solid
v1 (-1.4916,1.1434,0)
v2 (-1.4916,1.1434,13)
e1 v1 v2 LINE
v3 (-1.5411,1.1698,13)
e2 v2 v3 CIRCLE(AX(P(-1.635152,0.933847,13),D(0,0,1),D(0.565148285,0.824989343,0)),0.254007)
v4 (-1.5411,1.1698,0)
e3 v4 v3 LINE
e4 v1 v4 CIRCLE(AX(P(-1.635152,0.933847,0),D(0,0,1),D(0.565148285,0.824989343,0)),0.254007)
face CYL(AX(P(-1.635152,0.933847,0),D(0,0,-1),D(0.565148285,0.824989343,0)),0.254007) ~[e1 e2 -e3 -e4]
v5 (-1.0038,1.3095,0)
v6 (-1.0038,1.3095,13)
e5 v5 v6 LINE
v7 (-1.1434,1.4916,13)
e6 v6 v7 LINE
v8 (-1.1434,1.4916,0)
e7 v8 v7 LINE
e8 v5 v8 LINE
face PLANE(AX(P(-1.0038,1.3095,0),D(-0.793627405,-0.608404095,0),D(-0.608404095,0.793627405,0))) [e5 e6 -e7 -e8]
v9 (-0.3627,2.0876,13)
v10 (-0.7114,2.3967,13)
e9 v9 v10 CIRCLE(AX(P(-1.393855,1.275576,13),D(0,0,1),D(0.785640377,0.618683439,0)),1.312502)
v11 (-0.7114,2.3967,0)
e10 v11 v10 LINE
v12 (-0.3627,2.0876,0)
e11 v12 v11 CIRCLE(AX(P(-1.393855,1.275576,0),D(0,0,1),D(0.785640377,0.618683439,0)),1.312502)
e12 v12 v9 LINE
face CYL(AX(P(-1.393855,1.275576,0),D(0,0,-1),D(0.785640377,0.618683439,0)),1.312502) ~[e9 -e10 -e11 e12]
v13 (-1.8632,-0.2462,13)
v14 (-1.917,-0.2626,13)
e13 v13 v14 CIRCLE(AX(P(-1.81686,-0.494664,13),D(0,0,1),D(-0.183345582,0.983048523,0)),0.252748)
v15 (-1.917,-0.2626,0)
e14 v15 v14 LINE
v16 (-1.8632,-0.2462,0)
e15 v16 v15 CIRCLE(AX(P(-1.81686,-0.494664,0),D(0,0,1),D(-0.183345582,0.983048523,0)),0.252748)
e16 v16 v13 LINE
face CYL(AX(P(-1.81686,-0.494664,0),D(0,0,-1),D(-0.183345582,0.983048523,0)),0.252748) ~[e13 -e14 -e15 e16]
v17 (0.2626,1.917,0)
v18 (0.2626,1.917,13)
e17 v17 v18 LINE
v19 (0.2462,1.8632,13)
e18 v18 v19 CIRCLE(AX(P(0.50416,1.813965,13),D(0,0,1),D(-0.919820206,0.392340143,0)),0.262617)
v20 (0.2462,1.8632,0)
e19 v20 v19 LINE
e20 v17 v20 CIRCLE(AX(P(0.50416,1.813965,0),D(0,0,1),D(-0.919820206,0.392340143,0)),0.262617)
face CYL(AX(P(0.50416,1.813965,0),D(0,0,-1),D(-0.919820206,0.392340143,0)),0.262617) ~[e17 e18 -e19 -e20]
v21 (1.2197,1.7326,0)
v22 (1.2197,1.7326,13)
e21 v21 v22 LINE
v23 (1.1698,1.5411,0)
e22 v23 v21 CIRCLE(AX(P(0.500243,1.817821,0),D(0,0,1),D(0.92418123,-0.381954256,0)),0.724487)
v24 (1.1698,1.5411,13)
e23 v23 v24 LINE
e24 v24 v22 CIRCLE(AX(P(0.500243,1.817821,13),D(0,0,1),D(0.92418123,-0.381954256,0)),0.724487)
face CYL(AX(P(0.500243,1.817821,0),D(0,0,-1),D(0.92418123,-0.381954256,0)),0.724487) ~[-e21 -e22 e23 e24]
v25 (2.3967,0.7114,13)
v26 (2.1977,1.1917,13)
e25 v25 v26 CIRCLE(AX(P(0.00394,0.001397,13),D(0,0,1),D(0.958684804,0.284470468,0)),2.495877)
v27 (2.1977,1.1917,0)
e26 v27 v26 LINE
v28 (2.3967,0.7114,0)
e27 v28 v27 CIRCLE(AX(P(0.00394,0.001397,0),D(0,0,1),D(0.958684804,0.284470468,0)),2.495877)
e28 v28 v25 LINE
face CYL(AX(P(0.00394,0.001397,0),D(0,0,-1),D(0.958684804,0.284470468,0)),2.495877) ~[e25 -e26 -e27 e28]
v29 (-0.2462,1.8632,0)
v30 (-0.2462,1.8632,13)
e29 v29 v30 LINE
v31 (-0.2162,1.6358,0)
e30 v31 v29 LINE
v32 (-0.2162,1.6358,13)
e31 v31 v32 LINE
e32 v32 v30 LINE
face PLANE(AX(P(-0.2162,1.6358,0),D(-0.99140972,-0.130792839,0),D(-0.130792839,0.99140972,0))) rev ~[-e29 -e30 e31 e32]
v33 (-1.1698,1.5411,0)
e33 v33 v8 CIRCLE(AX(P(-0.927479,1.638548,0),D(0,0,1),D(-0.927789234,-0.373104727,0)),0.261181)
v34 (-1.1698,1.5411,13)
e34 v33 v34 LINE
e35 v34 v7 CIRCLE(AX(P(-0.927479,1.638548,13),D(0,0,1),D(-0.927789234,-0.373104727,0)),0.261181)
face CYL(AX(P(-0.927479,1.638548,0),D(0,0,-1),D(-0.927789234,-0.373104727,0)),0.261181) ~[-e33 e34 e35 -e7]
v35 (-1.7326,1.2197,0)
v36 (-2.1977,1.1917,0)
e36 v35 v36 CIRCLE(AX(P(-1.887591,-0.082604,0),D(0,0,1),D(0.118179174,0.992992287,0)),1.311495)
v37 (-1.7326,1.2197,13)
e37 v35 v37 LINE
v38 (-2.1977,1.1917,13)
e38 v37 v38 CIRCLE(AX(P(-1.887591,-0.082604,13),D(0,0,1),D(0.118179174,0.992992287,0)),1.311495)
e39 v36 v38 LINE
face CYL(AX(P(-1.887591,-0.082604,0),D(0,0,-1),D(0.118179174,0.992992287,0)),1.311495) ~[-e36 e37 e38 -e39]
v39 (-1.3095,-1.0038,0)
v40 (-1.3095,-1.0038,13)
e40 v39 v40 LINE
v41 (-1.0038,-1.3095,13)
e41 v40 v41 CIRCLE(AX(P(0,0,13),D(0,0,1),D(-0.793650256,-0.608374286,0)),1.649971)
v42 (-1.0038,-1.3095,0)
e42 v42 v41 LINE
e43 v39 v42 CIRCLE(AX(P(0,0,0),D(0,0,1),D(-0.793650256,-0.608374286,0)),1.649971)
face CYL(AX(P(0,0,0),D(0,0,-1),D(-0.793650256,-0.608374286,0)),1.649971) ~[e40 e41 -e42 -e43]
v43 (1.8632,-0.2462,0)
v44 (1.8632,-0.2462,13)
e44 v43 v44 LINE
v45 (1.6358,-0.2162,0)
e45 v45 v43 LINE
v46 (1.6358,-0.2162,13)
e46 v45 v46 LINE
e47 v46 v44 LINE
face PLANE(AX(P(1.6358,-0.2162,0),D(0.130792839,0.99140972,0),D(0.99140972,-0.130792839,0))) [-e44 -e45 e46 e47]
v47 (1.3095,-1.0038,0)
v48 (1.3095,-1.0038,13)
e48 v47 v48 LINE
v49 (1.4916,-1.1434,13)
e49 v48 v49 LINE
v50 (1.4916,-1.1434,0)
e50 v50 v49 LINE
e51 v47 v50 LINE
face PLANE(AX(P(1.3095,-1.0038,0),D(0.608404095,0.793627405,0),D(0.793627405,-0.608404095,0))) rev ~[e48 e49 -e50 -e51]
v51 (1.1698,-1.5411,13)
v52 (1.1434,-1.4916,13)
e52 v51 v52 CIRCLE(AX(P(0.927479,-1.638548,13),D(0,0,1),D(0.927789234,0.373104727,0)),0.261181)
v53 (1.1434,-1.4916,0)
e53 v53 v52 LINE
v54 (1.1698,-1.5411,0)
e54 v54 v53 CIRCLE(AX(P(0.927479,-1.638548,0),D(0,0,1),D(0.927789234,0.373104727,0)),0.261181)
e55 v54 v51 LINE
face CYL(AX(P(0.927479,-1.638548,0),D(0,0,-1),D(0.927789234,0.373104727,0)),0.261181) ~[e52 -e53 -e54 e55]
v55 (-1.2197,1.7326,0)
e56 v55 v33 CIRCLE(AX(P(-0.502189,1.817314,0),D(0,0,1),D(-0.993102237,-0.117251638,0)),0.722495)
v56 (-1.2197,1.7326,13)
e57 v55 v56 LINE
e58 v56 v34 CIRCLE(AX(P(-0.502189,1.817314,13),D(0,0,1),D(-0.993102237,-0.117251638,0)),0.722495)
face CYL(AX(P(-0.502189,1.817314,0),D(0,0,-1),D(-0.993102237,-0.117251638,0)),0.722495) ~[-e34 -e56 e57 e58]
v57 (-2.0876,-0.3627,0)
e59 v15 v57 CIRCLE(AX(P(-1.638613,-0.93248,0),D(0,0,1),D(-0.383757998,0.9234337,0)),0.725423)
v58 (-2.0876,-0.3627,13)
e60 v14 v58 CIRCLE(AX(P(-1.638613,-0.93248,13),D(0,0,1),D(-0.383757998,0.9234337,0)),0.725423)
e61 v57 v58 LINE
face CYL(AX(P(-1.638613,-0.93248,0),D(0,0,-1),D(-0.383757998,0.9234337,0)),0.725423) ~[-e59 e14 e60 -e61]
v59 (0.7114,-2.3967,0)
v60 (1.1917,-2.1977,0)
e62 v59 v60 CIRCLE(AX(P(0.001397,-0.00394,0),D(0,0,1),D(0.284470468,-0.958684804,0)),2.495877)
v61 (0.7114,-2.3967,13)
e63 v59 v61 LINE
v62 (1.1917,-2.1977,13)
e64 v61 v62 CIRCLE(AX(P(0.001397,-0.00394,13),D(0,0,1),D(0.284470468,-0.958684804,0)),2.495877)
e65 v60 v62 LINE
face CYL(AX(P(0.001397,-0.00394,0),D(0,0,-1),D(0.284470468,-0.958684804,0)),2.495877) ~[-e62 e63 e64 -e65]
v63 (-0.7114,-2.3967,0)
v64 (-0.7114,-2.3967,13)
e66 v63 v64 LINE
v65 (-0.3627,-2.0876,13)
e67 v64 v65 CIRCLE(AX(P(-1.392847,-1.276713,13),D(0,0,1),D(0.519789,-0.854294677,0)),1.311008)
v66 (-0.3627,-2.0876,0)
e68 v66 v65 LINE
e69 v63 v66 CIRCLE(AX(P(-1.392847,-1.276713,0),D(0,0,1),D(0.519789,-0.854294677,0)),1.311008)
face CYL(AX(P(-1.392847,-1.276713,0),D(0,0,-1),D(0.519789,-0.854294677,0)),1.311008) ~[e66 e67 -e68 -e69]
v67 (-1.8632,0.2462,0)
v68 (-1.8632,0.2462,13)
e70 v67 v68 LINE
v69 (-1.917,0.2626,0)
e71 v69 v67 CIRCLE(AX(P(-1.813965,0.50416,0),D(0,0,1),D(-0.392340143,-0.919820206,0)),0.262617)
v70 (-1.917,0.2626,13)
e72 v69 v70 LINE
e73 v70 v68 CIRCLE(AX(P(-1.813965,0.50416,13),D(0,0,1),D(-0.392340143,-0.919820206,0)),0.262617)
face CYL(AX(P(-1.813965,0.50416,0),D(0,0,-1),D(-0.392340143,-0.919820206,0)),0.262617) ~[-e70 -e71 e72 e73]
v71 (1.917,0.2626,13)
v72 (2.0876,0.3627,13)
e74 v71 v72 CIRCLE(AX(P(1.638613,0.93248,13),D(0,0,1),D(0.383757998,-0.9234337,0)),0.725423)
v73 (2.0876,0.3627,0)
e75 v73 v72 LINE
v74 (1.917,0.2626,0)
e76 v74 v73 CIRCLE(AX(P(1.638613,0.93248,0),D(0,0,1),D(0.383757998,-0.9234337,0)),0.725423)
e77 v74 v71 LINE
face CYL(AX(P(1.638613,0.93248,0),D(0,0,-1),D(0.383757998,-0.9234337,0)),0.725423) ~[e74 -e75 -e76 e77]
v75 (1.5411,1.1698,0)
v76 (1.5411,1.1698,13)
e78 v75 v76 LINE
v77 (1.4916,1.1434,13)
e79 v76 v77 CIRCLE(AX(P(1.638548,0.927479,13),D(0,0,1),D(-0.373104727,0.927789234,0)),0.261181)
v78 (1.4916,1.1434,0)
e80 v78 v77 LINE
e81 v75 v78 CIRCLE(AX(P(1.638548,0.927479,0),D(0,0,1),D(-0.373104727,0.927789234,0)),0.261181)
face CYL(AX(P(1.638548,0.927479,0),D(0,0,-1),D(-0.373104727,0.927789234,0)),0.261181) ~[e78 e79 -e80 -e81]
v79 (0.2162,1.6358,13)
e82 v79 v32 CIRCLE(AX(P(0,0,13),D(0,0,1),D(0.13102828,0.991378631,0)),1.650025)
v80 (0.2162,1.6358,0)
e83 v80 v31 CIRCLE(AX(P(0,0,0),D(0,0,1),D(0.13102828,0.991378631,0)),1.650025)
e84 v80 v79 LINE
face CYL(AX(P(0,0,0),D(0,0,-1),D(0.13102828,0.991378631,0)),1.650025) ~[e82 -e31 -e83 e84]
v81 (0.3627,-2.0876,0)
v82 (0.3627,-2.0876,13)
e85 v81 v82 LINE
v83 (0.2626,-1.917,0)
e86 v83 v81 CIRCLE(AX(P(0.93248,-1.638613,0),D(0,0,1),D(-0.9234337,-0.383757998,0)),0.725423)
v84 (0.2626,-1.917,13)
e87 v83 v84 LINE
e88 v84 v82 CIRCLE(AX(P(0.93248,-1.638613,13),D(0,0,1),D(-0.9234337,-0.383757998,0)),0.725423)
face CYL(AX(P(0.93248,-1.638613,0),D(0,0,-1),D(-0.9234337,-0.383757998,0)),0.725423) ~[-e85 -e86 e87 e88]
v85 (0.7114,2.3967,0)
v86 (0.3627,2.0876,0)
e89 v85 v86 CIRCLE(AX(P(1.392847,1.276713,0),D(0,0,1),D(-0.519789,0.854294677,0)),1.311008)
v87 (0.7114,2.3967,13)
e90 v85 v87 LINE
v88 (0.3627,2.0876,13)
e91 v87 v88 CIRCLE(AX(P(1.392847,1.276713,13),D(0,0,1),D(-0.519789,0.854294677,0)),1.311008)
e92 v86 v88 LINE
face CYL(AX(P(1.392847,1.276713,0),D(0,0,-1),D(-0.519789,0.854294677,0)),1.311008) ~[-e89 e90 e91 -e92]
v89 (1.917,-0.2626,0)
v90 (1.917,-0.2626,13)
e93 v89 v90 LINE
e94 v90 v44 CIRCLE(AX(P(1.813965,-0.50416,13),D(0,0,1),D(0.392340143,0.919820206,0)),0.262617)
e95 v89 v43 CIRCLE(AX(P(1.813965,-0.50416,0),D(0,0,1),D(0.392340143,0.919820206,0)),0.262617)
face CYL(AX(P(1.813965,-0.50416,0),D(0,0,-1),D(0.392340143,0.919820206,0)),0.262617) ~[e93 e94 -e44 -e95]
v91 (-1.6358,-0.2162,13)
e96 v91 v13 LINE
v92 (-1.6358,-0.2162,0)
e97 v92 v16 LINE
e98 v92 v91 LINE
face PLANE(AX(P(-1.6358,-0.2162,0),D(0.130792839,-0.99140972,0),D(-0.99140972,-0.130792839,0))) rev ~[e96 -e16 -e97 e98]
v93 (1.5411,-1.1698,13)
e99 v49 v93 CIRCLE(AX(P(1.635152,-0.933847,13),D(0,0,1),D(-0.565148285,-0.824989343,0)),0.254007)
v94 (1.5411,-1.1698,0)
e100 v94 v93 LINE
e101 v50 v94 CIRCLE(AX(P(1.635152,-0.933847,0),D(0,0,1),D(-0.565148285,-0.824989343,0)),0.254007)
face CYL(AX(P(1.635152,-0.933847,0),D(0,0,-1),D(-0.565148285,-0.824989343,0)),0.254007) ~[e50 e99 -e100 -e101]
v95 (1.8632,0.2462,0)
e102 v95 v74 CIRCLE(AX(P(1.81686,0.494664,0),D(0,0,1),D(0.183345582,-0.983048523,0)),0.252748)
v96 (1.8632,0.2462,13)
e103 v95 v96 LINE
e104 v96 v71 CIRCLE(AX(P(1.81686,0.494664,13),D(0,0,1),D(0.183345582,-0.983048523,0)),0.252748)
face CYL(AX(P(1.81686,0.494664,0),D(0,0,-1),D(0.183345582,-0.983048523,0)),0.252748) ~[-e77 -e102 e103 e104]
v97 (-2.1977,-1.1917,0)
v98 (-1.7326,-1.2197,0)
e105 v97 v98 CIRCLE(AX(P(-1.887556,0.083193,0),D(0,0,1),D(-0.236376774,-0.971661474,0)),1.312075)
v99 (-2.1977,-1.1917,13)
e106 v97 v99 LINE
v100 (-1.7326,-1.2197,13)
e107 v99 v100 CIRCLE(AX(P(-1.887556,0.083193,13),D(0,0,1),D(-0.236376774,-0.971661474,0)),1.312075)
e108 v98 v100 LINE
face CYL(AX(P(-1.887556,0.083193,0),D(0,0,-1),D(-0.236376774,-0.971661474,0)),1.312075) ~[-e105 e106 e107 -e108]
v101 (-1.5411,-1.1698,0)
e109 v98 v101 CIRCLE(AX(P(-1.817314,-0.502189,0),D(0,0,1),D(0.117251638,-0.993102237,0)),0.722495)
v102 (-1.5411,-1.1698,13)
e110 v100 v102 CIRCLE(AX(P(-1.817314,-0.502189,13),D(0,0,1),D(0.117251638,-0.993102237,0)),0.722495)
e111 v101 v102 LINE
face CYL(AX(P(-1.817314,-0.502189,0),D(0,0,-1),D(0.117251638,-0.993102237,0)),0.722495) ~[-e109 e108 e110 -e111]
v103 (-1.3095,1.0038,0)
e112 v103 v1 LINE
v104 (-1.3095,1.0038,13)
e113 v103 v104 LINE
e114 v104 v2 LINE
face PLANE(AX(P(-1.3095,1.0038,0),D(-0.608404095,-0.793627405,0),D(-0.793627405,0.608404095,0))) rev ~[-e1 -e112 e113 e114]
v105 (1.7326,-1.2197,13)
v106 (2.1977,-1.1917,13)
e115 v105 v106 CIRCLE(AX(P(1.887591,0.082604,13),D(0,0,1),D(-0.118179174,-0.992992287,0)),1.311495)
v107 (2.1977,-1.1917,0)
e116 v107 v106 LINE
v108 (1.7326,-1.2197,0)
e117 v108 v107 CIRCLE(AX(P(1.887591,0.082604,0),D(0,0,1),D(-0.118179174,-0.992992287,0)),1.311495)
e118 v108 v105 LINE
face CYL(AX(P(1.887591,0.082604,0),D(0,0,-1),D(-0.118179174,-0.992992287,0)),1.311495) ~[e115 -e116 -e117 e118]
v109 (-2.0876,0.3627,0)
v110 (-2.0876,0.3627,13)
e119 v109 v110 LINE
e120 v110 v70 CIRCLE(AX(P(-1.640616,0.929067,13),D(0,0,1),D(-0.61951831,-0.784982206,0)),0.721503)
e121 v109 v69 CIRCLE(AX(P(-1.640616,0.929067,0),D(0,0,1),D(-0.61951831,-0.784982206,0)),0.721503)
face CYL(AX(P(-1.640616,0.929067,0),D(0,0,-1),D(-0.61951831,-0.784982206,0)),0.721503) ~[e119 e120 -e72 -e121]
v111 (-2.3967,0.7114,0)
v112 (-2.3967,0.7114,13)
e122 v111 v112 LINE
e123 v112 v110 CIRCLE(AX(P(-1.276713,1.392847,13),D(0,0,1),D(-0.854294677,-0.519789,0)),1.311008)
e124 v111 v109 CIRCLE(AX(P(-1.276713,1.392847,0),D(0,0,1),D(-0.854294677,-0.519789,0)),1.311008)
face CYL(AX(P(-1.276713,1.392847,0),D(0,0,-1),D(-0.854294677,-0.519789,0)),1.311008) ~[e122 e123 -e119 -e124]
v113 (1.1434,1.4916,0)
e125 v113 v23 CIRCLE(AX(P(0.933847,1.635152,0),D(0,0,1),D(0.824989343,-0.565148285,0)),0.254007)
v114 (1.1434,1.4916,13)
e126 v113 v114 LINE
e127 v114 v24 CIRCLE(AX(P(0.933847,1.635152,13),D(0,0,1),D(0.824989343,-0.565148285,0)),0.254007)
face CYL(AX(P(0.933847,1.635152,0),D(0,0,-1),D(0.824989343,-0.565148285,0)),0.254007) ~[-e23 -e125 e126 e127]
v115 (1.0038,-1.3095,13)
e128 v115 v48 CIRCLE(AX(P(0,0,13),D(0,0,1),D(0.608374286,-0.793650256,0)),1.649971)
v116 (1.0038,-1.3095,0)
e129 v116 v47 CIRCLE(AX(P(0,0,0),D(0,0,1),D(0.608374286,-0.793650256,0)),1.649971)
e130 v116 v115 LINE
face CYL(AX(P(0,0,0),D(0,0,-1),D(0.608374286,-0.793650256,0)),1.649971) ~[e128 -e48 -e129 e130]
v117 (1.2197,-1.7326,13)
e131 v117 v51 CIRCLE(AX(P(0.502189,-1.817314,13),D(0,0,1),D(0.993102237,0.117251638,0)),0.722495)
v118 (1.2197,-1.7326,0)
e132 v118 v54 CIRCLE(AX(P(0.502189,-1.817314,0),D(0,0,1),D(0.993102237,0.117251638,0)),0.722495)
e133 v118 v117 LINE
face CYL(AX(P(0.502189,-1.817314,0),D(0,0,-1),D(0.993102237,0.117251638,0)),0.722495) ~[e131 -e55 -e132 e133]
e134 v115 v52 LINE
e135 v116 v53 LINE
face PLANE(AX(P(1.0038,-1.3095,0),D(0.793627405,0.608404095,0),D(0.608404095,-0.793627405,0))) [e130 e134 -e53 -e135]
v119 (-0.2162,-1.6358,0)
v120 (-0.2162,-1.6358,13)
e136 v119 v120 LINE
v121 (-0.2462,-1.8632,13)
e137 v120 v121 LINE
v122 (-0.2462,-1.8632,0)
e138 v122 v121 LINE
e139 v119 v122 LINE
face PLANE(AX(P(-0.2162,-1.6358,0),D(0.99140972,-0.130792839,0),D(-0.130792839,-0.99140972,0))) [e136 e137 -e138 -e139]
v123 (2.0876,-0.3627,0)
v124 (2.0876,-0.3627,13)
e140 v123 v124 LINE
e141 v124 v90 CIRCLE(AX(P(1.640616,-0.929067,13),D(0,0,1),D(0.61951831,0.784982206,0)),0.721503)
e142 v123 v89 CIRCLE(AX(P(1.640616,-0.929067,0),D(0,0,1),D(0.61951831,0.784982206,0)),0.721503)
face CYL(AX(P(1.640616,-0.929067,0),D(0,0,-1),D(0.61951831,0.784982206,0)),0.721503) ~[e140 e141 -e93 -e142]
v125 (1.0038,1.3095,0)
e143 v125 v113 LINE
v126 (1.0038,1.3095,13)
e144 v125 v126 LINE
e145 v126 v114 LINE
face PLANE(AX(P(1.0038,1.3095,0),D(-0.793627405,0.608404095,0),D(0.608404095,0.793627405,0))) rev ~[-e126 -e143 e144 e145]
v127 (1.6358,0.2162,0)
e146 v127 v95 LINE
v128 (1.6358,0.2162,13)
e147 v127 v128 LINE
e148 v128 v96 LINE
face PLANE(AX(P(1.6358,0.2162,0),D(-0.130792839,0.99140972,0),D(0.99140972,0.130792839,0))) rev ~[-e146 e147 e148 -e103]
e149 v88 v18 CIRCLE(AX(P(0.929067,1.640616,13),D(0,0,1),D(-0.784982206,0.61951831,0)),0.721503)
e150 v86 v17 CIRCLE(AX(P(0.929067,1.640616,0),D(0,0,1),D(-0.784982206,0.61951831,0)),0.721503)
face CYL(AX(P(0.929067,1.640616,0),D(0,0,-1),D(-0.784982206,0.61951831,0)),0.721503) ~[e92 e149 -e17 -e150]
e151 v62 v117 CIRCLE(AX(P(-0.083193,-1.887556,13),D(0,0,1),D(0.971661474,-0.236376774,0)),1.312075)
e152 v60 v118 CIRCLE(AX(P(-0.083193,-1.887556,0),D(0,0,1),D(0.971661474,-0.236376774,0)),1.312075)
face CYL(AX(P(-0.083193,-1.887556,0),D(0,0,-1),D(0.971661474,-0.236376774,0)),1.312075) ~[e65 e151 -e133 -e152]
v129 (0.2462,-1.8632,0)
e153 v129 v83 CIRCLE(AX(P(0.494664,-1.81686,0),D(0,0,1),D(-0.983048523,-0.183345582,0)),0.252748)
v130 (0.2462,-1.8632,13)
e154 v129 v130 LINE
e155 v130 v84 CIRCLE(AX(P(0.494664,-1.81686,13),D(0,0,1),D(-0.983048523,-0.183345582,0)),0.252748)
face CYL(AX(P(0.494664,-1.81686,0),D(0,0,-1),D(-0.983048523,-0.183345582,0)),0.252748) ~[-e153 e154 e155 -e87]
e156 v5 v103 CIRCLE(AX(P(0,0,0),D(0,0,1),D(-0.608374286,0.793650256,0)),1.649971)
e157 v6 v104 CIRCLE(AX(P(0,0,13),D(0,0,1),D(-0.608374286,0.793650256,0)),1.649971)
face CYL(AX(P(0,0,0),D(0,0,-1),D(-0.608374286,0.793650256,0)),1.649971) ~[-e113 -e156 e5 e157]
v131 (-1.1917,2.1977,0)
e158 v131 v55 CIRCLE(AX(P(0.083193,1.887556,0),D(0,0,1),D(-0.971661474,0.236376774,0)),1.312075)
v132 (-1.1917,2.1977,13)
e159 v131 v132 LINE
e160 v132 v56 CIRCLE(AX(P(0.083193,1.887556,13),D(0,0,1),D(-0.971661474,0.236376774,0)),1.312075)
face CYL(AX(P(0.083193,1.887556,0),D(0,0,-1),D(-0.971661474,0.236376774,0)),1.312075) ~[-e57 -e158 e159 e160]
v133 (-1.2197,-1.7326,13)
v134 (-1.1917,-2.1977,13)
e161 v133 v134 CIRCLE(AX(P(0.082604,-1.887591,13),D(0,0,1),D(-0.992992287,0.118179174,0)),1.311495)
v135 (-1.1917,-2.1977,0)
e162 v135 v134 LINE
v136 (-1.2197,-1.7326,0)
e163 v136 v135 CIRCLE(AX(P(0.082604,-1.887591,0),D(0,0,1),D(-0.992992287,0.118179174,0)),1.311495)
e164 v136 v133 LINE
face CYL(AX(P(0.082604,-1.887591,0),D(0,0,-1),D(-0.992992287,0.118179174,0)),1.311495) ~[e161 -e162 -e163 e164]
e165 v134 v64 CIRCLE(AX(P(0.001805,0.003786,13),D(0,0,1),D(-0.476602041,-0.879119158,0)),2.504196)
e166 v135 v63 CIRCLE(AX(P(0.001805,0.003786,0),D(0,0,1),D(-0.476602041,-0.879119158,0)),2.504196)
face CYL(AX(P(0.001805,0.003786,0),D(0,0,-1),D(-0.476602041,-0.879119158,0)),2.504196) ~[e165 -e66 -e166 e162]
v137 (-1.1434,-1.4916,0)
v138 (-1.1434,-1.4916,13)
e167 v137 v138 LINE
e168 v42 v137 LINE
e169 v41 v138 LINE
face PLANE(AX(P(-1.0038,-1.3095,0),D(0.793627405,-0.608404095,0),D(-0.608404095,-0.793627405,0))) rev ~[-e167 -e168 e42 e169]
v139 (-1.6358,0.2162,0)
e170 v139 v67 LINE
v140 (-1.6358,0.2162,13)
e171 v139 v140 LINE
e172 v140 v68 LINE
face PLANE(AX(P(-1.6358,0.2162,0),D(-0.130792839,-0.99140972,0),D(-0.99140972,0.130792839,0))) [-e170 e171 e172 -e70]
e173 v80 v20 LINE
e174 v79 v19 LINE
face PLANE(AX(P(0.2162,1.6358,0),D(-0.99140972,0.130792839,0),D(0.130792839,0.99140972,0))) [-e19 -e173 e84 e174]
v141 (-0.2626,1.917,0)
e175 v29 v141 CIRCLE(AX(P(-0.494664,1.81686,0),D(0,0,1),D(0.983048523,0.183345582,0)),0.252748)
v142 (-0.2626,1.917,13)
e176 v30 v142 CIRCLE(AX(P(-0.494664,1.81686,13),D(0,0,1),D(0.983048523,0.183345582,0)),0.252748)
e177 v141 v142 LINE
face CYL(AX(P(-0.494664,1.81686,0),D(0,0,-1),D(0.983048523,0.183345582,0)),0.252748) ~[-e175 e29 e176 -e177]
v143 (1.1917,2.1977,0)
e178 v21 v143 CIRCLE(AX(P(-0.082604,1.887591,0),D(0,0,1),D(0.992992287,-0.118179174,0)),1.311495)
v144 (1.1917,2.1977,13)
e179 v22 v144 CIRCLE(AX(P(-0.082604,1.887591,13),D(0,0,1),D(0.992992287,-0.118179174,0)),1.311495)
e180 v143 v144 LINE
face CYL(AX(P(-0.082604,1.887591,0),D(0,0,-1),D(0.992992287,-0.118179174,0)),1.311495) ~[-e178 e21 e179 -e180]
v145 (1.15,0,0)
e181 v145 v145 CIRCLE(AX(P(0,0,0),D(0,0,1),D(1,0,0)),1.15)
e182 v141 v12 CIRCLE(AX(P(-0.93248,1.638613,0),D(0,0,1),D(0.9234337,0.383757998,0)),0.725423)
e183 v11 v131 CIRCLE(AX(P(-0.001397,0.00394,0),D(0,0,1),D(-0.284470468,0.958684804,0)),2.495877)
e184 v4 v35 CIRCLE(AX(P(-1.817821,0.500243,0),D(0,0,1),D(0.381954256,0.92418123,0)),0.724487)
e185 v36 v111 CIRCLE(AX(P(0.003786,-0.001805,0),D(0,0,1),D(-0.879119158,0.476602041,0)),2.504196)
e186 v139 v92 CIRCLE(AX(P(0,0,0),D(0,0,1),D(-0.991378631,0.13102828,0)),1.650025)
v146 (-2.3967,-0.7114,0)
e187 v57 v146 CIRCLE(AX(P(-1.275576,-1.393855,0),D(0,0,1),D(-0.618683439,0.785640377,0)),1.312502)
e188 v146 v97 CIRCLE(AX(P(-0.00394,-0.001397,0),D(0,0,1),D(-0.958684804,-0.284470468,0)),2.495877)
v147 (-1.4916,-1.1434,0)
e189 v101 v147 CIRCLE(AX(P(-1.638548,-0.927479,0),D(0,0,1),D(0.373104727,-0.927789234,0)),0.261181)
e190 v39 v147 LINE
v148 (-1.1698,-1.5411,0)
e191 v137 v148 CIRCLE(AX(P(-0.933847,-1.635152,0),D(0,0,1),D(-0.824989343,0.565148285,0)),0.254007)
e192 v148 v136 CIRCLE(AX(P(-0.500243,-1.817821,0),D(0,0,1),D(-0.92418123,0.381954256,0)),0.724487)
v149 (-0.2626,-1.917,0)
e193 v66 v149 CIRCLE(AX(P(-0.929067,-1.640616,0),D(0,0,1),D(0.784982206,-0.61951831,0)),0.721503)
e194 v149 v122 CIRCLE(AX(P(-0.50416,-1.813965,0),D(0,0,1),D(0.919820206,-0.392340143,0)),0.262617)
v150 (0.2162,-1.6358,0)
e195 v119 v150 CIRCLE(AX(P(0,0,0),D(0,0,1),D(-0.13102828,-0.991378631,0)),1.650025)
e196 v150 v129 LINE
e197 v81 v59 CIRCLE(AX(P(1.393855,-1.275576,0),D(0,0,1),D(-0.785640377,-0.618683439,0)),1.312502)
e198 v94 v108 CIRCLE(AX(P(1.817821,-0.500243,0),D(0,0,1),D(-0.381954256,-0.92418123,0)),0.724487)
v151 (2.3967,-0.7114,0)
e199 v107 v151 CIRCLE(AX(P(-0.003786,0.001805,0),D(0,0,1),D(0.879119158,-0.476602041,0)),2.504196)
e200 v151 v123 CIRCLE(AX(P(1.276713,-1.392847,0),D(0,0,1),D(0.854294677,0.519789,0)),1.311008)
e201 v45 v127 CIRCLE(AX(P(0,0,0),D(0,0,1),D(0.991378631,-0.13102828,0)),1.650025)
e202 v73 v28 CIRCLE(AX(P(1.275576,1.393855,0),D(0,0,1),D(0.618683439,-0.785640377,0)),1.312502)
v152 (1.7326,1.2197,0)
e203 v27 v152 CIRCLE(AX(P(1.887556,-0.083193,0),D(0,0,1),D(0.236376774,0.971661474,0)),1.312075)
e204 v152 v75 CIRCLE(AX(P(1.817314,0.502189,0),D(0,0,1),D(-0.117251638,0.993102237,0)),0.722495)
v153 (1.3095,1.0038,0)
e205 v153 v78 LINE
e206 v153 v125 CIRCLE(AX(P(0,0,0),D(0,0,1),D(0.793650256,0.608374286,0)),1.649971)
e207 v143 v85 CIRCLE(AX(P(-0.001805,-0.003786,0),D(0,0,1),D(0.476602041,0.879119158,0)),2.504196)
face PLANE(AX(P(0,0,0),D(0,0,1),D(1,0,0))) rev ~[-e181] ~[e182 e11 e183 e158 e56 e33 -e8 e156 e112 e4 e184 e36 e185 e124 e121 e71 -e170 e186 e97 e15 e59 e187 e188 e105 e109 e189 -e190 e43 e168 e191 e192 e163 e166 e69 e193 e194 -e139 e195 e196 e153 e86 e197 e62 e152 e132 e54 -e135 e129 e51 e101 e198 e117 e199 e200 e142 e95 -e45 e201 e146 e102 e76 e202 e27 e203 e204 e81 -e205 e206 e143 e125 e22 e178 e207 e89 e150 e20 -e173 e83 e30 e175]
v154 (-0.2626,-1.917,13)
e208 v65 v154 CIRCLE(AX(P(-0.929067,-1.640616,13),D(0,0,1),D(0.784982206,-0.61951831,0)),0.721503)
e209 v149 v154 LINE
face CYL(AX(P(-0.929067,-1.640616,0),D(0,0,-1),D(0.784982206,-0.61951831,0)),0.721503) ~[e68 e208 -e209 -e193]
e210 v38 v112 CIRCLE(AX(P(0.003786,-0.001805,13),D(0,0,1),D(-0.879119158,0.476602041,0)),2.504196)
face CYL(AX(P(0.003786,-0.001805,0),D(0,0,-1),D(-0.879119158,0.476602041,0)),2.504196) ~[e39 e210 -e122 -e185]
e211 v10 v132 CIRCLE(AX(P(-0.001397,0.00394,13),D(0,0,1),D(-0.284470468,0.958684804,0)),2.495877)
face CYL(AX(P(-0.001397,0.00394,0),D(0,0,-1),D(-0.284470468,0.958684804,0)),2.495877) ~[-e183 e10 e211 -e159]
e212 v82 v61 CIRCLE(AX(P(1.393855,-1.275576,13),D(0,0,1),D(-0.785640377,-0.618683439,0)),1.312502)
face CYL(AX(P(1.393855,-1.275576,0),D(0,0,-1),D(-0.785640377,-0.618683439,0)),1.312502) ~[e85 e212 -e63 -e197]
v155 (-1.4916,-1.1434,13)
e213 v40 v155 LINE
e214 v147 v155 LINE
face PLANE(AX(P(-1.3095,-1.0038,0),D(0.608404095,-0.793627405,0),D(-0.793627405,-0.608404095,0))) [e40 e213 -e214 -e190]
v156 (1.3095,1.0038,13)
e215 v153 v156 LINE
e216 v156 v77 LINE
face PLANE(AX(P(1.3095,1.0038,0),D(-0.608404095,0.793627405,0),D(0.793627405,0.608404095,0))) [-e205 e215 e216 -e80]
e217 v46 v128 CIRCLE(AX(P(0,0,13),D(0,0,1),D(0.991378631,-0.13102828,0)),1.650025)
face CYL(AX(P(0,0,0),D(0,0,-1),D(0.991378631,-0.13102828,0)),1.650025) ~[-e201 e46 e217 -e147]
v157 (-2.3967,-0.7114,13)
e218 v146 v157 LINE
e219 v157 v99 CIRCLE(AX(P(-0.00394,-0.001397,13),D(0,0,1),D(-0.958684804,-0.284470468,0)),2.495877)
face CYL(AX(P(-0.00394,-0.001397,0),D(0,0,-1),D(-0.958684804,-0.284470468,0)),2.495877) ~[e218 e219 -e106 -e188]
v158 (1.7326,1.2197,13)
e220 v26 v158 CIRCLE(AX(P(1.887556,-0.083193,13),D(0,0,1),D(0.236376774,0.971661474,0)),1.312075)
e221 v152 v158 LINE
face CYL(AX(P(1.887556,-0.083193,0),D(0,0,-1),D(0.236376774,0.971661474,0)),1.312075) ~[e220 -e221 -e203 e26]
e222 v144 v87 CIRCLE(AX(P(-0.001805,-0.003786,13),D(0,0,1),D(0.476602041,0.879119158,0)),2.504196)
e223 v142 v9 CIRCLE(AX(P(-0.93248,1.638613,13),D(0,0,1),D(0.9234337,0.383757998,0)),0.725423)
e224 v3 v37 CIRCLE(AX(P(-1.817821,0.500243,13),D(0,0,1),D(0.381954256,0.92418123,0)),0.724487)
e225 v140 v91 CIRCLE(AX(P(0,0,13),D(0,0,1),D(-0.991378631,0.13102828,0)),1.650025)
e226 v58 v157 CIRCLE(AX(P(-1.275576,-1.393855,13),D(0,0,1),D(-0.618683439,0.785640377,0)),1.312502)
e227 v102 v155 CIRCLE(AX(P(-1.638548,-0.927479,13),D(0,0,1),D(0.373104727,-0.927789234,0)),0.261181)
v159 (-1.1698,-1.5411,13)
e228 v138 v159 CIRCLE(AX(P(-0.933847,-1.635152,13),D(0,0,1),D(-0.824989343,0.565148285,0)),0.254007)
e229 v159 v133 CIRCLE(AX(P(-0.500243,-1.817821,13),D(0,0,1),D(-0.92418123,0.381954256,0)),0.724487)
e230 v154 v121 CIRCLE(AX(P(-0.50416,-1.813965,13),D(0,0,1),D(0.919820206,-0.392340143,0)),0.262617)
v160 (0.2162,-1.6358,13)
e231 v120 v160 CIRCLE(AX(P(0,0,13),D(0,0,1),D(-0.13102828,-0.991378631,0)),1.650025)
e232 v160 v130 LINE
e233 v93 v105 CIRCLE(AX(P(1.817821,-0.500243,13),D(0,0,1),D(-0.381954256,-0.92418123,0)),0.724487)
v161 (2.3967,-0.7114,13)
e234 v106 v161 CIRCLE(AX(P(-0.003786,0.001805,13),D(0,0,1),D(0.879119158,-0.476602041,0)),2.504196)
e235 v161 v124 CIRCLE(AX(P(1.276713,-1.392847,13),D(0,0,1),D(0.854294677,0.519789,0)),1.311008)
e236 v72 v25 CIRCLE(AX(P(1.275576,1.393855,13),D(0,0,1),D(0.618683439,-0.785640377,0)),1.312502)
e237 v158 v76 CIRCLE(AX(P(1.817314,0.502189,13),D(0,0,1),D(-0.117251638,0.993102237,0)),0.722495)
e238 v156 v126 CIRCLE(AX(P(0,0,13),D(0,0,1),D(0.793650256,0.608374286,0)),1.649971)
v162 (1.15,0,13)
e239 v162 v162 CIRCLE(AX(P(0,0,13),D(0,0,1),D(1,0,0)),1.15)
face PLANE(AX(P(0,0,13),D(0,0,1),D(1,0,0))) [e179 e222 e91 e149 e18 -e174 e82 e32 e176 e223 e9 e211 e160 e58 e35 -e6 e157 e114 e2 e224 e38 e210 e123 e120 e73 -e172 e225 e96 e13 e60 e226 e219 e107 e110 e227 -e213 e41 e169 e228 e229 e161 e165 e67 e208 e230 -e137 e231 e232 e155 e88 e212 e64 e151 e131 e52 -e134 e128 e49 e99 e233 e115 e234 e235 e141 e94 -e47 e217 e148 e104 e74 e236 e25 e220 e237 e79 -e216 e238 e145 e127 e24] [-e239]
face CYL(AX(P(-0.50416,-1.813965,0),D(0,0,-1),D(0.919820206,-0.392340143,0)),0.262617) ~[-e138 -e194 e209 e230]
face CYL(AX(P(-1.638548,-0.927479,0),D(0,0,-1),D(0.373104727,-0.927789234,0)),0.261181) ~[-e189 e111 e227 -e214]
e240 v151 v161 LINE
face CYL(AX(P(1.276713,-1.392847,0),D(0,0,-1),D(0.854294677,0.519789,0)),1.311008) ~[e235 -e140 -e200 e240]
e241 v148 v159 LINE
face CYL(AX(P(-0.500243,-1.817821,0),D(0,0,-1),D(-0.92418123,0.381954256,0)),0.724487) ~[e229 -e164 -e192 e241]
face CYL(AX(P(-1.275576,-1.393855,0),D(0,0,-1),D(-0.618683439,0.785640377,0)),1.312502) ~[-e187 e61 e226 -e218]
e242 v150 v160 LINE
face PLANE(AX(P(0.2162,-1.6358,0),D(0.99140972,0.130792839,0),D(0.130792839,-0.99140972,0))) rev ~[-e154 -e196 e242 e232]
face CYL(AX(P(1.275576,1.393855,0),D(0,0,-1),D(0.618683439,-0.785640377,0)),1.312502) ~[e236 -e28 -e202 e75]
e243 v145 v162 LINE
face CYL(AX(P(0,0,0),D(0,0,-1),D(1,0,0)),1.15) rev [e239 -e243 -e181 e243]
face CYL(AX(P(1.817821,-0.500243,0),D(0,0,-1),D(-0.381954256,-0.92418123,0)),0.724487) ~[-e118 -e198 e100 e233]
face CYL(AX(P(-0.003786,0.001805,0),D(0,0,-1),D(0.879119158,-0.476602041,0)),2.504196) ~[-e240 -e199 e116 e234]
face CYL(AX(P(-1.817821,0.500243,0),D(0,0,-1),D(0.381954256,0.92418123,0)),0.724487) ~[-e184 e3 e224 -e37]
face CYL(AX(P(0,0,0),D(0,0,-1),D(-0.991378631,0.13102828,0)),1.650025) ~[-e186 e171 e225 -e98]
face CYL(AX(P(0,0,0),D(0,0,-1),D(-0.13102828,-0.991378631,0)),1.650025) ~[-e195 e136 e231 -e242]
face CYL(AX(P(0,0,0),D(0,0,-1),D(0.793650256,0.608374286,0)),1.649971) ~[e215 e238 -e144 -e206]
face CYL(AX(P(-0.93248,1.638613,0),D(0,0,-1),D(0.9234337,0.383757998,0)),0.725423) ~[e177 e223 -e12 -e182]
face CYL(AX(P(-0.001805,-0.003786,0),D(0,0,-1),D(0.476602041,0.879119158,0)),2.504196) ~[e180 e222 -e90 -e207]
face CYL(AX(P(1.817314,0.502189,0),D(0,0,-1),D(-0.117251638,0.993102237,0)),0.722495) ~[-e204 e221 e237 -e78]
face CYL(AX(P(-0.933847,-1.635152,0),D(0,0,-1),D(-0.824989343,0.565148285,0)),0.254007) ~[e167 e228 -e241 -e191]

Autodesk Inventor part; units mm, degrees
ref_plane "YZ Plane" through (0, 0, 0) normal (1, 0, 0) x (0, 1, 0)
ref_plane "XZ Plane" through (0, 0, 0) normal (0, 1, 0) x (-1, 0, 0)
ref_plane "XY Plane" through (0, 0, 0) normal (0, 0, 1) x (1, 0, 0)
sketch "Sketch2" plane through (0, 0, 0) normal (0, 0, 1) x (1, 0, 0)
  arc A0 (0.2626, 1.917) -> (0.2462, 1.8632) centre (0.4994, 1.8157) ccw
  arc A1 (0.3627, 2.0876) -> (0.2626, 1.917) centre (0.9307, 1.6395) ccw
  arc A2 (0.7114, 2.3967) -> (0.3627, 2.0876) centre (1.3933, 1.2761) ccw
  arc A3 (-1.1698, 1.5411) -> (-1.1434, 1.4916) centre (-0.9308, 1.637) ccw
  arc A4 (-1.2197, 1.7326) -> (-1.1698, 1.5411) centre (-0.5012, 1.8175) ccw
  arc A5 (-1.1917, 2.1977) -> (-1.2197, 1.7326) centre (0.0829, 1.8876) ccw
  arc A6 (-1.917, 0.2626) -> (-1.8632, 0.2462) centre (-1.8157, 0.4994) ccw
  arc A7 (-2.0876, 0.3627) -> (-1.917, 0.2626) centre (-1.6395, 0.9307) ccw
  arc A8 (-2.3967, 0.7114) -> (-2.0876, 0.3627) centre (-1.2761, 1.3933) ccw
  arc A9 (-1.5411, -1.1698) -> (-1.4916, -1.1434) centre (-1.637, -0.9308) ccw
  arc A10 (-1.7326, -1.2197) -> (-1.5411, -1.1698) centre (-1.8175, -0.5012) ccw
  arc A11 (-2.1977, -1.1917) -> (-1.7326, -1.2197) centre (-1.8876, 0.0829) ccw
  arc A12 (-0.2626, -1.917) -> (-0.2462, -1.8632) centre (-0.4994, -1.8157) ccw
  arc A13 (-0.3627, -2.0876) -> (-0.2626, -1.917) centre (-0.9307, -1.6395) ccw
  arc A14 (-0.7114, -2.3967) -> (-0.3627, -2.0876) centre (-1.3933, -1.2761) ccw
  arc A15 (1.1698, -1.5411) -> (1.1434, -1.4916) centre (0.9308, -1.637) ccw
  arc A16 (1.2197, -1.7326) -> (1.1698, -1.5411) centre (0.5012, -1.8175) ccw
  arc A17 (1.1917, -2.1977) -> (1.2197, -1.7326) centre (-0.0829, -1.8876) ccw
  arc A18 (1.917, -0.2626) -> (1.8632, -0.2462) centre (1.8157, -0.4994) ccw
  arc A19 (2.0876, -0.3627) -> (1.917, -0.2626) centre (1.6395, -0.9307) ccw
  arc A20 (2.3967, -0.7114) -> (2.0876, -0.3627) centre (1.2761, -1.3933) ccw
  arc A21 (1.5411, 1.1698) -> (1.4916, 1.1434) centre (1.637, 0.9308) ccw
  arc A22 (1.7326, 1.2197) -> (1.5411, 1.1698) centre (1.8175, 0.5012) ccw
  arc A23 (2.1977, 1.1917) -> (1.7326, 1.2197) centre (1.8876, -0.0829) ccw
  arc A24 (-0.2462, 1.8632) -> (-0.2626, 1.917) centre (-0.4994, 1.8157) ccw
  arc A25 (-0.2626, 1.917) -> (-0.3627, 2.0876) centre (-0.9307, 1.6395) ccw
  arc A26 (-0.3627, 2.0876) -> (-0.7114, 2.3967) centre (-1.3933, 1.2761) ccw
  arc A27 (-1.4916, 1.1434) -> (-1.5411, 1.1698) centre (-1.637, 0.9308) ccw
  arc A28 (-1.5411, 1.1698) -> (-1.7326, 1.2197) centre (-1.8175, 0.5012) ccw
  arc A29 (-1.7326, 1.2197) -> (-2.1977, 1.1917) centre (-1.8876, -0.0829) ccw
  arc A30 (-1.8632, -0.2462) -> (-1.917, -0.2626) centre (-1.8157, -0.4994) ccw
  arc A31 (-1.917, -0.2626) -> (-2.0876, -0.3627) centre (-1.6395, -0.9307) ccw
  arc A32 (-2.0876, -0.3627) -> (-2.3967, -0.7114) centre (-1.2761, -1.3933) ccw
  arc A33 (-1.1434, -1.4916) -> (-1.1698, -1.5411) centre (-0.9308, -1.637) ccw
  arc A34 (-1.1698, -1.5411) -> (-1.2197, -1.7326) centre (-0.5012, -1.8175) ccw
  arc A35 (-1.2197, -1.7326) -> (-1.1917, -2.1977) centre (0.0829, -1.8876) ccw
  arc A36 (0.2462, -1.8632) -> (0.2626, -1.917) centre (0.4994, -1.8157) ccw
  arc A37 (0.2626, -1.917) -> (0.3627, -2.0876) centre (0.9307, -1.6395) ccw
  arc A38 (0.3627, -2.0876) -> (0.7114, -2.3967) centre (1.3933, -1.2761) ccw
  arc A39 (1.4916, -1.1434) -> (1.5411, -1.1698) centre (1.637, -0.9308) ccw
  arc A40 (1.5411, -1.1698) -> (1.7326, -1.2197) centre (1.8175, -0.5012) ccw
  arc A41 (1.7326, -1.2197) -> (2.1977, -1.1917) centre (1.8876, 0.0829) ccw
  arc A42 (1.8632, 0.2462) -> (1.917, 0.2626) centre (1.8157, 0.4994) ccw
  arc A43 (1.917, 0.2626) -> (2.0876, 0.3627) centre (1.6395, 0.9307) ccw
  arc A44 (2.0876, 0.3627) -> (2.3967, 0.7114) centre (1.2761, 1.3933) ccw
  arc A45 (1.1434, 1.4916) -> (1.1698, 1.5411) centre (0.9308, 1.637) ccw
  arc A46 (1.1698, 1.5411) -> (1.2197, 1.7326) centre (0.5012, 1.8175) ccw
  arc A47 (1.2197, 1.7326) -> (1.1917, 2.1977) centre (-0.0829, 1.8876) ccw
  arc A48 (0.2162, 1.6358) -> (-0.2162, 1.6358) centre (0, 0) ccw
  arc A49 (-1.0038, 1.3095) -> (-1.3095, 1.0038) centre (0, 0) ccw
  arc A50 (-1.6358, 0.2162) -> (-1.6358, -0.2162) centre (0, 0) ccw
  arc A51 (-1.3095, -1.0038) -> (-1.0038, -1.3095) centre (0, 0) ccw
  arc A52 (-0.2162, -1.6358) -> (0.2162, -1.6358) centre (0, 0) ccw
  arc A53 (1.0038, -1.3095) -> (1.3095, -1.0038) centre (0, 0) ccw
  arc A54 (1.6358, -0.2162) -> (1.6358, 0.2162) centre (0, 0) ccw
  arc A55 (1.3095, 1.0038) -> (1.0038, 1.3095) centre (0, 0) ccw
  arc A56 (-0.7114, 2.3967) -> (-1.1917, 2.1977) centre (0, 0) ccw
  arc A57 (-2.1977, 1.1917) -> (-2.3967, 0.7114) centre (0, 0) ccw
  arc A58 (-2.3967, -0.7114) -> (-2.1977, -1.1917) centre (0, 0) ccw
  arc A59 (-1.1917, -2.1977) -> (-0.7114, -2.3967) centre (0, 0) ccw
  arc A60 (0.7114, -2.3967) -> (1.1917, -2.1977) centre (0, 0) ccw
  arc A61 (2.1977, -1.1917) -> (2.3967, -0.7114) centre (0, 0) ccw
  arc A62 (2.3967, 0.7114) -> (2.1977, 1.1917) centre (0, 0) ccw
  arc A63 (1.1917, 2.1977) -> (0.7114, 2.3967) centre (0, 0) ccw
  line L0 (0.2162, 1.6358) -> (0.2462, 1.8632)
  line L1 (-1.0038, 1.3095) -> (-1.1434, 1.4916)
  line L2 (-1.6358, 0.2162) -> (-1.8632, 0.2462)
  line L3 (-1.3095, -1.0038) -> (-1.4916, -1.1434)
  line L4 (-0.2162, -1.6358) -> (-0.2462, -1.8632)
  line L5 (1.0038, -1.3095) -> (1.1434, -1.4916)
  line L6 (1.6358, -0.2162) -> (1.8632, -0.2462)
  line L7 (1.3095, 1.0038) -> (1.4916, 1.1434)
  line L8 (-0.2162, 1.6358) -> (-0.2462, 1.8632)
  line L9 (-1.3095, 1.0038) -> (-1.4916, 1.1434)
  line L10 (-1.6358, -0.2162) -> (-1.8632, -0.2462)
  line L11 (-1.0038, -1.3095) -> (-1.1434, -1.4916)
  line L12 (0.2162, -1.6358) -> (0.2462, -1.8632)
  line L13 (1.3095, -1.0038) -> (1.4916, -1.1434)
  line L14 (1.6358, 0.2162) -> (1.8632, 0.2462)
  line L15 (1.0038, 1.3095) -> (1.1434, 1.4916)
  circle A64 centre (0, 0) radius 1.15
  point P0 (1.3095, 1.0038)
  point P1 (1.0038, 1.3095)
  point P2 (1.1434, 1.4916)
  point P3 (1.1683, 1.5373)
  point P4 (1.2195, 1.7312)
  point P5 (1.1917, 2.1977)
  point P6 (0.7114, 2.3967)
  point P7 (0.3618, 2.0865)
  point P8 (0.261, 1.9131)
  point P9 (0.2462, 1.8632)
  point P10 (0.2162, 1.6358)
  point P11 (-0.2162, 1.6358)
  point P12 (-0.2462, 1.8632)
  point P13 (-0.261, 1.9131)
  point P14 (-0.3618, 2.0865)
  point P15 (-0.7114, 2.3967)
  point P16 (-1.1917, 2.1977)
  point P17 (-1.2195, 1.7312)
  point P18 (-1.1683, 1.5373)
  point P19 (-1.1434, 1.4916)
  point P20 (-1.0038, 1.3095)
  point P21 (-1.3095, 1.0038)
  point P22 (-1.4916, 1.1434)
  point P23 (-1.5373, 1.1683)
  point P24 (-1.7312, 1.2195)
  point P25 (-2.1977, 1.1917)
  point P26 (-2.3967, 0.7114)
  point P27 (-2.0865, 0.3618)
  point P28 (-1.9131, 0.261)
  point P29 (-1.8632, 0.2462)
  point P30 (-1.6358, 0.2162)
  point P31 (-1.6358, -0.2162)
  point P32 (-1.8632, -0.2462)
  point P33 (-1.9131, -0.261)
  point P34 (-2.0865, -0.3618)
  point P35 (-2.3967, -0.7114)
  point P36 (-2.1977, -1.1917)
  point P37 (-1.7312, -1.2195)
  point P38 (-1.5373, -1.1683)
  point P39 (-1.4916, -1.1434)
  point P40 (-1.3095, -1.0038)
  point P41 (-1.0038, -1.3095)
  point P42 (-1.1434, -1.4916)
  point P43 (-1.1683, -1.5373)
  point P44 (-1.2195, -1.7312)
  point P45 (-1.1917, -2.1977)
  point P46 (-0.7114, -2.3967)
  point P47 (-0.3618, -2.0865)
  point P48 (-0.261, -1.9131)
  point P49 (-0.2462, -1.8632)
  point P50 (-0.2162, -1.6358)
  point P51 (0.2162, -1.6358)
  point P52 (0.2462, -1.8632)
  point P53 (0.261, -1.9131)
  point P54 (0.3618, -2.0865)
  point P55 (0.7114, -2.3967)
  point P56 (1.1917, -2.1977)
  point P57 (1.2195, -1.7312)
  point P58 (1.1683, -1.5373)
  point P59 (1.1434, -1.4916)
  point P60 (1.0038, -1.3095)
  point P61 (1.3095, -1.0038)
  point P62 (1.4916, -1.1434)
  point P63 (1.5373, -1.1683)
  point P64 (1.7312, -1.2195)
  point P65 (2.1977, -1.1917)
  point P66 (2.3967, -0.7114)
  point P67 (2.0865, -0.3618)
  point P68 (1.9131, -0.261)
  point P69 (1.8632, -0.2462)
  point P70 (1.6358, -0.2162)
  point P71 (1.6358, 0.2162)
  point P72 (1.8632, 0.2462)
  point P73 (1.9131, 0.261)
  point P74 (2.0865, 0.3618)
  point P75 (2.3967, 0.7114)
  point P76 (2.1977, 1.1917)
  point P77 (1.7312, 1.2195)
  point P78 (1.5373, 1.1683)
  point P79 (1.4916, 1.1434)
  point P80 (1.1698, 1.5411)
  point P81 (1.2197, 1.7326)
  point P82 (0.3627, 2.0876)
  point P83 (0.2626, 1.917)
  point P84 (-0.2626, 1.917)
  point P85 (-0.3627, 2.0876)
  point P86 (-1.2197, 1.7326)
  point P87 (-1.1698, 1.5411)
  point P88 (-1.5411, 1.1698)
  point P89 (-1.7326, 1.2197)
  point P90 (-2.0876, 0.3627)
  point P91 (-1.917, 0.2626)
  point P92 (-1.917, -0.2626)
  point P93 (-2.0876, -0.3627)
  point P94 (-1.7326, -1.2197)
  point P95 (-1.5411, -1.1698)
  point P96 (-1.1698, -1.5411)
  point P97 (-1.2197, -1.7326)
  point P98 (-0.3627, -2.0876)
  point P99 (-0.2626, -1.917)
  point P100 (0.2626, -1.917)
  point P101 (0.3627, -2.0876)
  point P102 (1.2197, -1.7326)
  point P103 (1.1698, -1.5411)
  point P104 (1.5411, -1.1698)
  point P105 (1.7326, -1.2197)
  point P106 (2.0876, -0.3627)
  point P107 (1.917, -0.2626)
  point P108 (1.917, 0.2626)
  point P109 (2.0876, 0.3627)
  point P110 (1.7326, 1.2197)
  point P111 (1.5411, 1.1698)
  dimension "d6" = 2.3
extrude "Extrusion2" add sketch "Sketch2" along normal blind 13
properties part number "ぴにょん" material "Aluminum 2014-T6"
